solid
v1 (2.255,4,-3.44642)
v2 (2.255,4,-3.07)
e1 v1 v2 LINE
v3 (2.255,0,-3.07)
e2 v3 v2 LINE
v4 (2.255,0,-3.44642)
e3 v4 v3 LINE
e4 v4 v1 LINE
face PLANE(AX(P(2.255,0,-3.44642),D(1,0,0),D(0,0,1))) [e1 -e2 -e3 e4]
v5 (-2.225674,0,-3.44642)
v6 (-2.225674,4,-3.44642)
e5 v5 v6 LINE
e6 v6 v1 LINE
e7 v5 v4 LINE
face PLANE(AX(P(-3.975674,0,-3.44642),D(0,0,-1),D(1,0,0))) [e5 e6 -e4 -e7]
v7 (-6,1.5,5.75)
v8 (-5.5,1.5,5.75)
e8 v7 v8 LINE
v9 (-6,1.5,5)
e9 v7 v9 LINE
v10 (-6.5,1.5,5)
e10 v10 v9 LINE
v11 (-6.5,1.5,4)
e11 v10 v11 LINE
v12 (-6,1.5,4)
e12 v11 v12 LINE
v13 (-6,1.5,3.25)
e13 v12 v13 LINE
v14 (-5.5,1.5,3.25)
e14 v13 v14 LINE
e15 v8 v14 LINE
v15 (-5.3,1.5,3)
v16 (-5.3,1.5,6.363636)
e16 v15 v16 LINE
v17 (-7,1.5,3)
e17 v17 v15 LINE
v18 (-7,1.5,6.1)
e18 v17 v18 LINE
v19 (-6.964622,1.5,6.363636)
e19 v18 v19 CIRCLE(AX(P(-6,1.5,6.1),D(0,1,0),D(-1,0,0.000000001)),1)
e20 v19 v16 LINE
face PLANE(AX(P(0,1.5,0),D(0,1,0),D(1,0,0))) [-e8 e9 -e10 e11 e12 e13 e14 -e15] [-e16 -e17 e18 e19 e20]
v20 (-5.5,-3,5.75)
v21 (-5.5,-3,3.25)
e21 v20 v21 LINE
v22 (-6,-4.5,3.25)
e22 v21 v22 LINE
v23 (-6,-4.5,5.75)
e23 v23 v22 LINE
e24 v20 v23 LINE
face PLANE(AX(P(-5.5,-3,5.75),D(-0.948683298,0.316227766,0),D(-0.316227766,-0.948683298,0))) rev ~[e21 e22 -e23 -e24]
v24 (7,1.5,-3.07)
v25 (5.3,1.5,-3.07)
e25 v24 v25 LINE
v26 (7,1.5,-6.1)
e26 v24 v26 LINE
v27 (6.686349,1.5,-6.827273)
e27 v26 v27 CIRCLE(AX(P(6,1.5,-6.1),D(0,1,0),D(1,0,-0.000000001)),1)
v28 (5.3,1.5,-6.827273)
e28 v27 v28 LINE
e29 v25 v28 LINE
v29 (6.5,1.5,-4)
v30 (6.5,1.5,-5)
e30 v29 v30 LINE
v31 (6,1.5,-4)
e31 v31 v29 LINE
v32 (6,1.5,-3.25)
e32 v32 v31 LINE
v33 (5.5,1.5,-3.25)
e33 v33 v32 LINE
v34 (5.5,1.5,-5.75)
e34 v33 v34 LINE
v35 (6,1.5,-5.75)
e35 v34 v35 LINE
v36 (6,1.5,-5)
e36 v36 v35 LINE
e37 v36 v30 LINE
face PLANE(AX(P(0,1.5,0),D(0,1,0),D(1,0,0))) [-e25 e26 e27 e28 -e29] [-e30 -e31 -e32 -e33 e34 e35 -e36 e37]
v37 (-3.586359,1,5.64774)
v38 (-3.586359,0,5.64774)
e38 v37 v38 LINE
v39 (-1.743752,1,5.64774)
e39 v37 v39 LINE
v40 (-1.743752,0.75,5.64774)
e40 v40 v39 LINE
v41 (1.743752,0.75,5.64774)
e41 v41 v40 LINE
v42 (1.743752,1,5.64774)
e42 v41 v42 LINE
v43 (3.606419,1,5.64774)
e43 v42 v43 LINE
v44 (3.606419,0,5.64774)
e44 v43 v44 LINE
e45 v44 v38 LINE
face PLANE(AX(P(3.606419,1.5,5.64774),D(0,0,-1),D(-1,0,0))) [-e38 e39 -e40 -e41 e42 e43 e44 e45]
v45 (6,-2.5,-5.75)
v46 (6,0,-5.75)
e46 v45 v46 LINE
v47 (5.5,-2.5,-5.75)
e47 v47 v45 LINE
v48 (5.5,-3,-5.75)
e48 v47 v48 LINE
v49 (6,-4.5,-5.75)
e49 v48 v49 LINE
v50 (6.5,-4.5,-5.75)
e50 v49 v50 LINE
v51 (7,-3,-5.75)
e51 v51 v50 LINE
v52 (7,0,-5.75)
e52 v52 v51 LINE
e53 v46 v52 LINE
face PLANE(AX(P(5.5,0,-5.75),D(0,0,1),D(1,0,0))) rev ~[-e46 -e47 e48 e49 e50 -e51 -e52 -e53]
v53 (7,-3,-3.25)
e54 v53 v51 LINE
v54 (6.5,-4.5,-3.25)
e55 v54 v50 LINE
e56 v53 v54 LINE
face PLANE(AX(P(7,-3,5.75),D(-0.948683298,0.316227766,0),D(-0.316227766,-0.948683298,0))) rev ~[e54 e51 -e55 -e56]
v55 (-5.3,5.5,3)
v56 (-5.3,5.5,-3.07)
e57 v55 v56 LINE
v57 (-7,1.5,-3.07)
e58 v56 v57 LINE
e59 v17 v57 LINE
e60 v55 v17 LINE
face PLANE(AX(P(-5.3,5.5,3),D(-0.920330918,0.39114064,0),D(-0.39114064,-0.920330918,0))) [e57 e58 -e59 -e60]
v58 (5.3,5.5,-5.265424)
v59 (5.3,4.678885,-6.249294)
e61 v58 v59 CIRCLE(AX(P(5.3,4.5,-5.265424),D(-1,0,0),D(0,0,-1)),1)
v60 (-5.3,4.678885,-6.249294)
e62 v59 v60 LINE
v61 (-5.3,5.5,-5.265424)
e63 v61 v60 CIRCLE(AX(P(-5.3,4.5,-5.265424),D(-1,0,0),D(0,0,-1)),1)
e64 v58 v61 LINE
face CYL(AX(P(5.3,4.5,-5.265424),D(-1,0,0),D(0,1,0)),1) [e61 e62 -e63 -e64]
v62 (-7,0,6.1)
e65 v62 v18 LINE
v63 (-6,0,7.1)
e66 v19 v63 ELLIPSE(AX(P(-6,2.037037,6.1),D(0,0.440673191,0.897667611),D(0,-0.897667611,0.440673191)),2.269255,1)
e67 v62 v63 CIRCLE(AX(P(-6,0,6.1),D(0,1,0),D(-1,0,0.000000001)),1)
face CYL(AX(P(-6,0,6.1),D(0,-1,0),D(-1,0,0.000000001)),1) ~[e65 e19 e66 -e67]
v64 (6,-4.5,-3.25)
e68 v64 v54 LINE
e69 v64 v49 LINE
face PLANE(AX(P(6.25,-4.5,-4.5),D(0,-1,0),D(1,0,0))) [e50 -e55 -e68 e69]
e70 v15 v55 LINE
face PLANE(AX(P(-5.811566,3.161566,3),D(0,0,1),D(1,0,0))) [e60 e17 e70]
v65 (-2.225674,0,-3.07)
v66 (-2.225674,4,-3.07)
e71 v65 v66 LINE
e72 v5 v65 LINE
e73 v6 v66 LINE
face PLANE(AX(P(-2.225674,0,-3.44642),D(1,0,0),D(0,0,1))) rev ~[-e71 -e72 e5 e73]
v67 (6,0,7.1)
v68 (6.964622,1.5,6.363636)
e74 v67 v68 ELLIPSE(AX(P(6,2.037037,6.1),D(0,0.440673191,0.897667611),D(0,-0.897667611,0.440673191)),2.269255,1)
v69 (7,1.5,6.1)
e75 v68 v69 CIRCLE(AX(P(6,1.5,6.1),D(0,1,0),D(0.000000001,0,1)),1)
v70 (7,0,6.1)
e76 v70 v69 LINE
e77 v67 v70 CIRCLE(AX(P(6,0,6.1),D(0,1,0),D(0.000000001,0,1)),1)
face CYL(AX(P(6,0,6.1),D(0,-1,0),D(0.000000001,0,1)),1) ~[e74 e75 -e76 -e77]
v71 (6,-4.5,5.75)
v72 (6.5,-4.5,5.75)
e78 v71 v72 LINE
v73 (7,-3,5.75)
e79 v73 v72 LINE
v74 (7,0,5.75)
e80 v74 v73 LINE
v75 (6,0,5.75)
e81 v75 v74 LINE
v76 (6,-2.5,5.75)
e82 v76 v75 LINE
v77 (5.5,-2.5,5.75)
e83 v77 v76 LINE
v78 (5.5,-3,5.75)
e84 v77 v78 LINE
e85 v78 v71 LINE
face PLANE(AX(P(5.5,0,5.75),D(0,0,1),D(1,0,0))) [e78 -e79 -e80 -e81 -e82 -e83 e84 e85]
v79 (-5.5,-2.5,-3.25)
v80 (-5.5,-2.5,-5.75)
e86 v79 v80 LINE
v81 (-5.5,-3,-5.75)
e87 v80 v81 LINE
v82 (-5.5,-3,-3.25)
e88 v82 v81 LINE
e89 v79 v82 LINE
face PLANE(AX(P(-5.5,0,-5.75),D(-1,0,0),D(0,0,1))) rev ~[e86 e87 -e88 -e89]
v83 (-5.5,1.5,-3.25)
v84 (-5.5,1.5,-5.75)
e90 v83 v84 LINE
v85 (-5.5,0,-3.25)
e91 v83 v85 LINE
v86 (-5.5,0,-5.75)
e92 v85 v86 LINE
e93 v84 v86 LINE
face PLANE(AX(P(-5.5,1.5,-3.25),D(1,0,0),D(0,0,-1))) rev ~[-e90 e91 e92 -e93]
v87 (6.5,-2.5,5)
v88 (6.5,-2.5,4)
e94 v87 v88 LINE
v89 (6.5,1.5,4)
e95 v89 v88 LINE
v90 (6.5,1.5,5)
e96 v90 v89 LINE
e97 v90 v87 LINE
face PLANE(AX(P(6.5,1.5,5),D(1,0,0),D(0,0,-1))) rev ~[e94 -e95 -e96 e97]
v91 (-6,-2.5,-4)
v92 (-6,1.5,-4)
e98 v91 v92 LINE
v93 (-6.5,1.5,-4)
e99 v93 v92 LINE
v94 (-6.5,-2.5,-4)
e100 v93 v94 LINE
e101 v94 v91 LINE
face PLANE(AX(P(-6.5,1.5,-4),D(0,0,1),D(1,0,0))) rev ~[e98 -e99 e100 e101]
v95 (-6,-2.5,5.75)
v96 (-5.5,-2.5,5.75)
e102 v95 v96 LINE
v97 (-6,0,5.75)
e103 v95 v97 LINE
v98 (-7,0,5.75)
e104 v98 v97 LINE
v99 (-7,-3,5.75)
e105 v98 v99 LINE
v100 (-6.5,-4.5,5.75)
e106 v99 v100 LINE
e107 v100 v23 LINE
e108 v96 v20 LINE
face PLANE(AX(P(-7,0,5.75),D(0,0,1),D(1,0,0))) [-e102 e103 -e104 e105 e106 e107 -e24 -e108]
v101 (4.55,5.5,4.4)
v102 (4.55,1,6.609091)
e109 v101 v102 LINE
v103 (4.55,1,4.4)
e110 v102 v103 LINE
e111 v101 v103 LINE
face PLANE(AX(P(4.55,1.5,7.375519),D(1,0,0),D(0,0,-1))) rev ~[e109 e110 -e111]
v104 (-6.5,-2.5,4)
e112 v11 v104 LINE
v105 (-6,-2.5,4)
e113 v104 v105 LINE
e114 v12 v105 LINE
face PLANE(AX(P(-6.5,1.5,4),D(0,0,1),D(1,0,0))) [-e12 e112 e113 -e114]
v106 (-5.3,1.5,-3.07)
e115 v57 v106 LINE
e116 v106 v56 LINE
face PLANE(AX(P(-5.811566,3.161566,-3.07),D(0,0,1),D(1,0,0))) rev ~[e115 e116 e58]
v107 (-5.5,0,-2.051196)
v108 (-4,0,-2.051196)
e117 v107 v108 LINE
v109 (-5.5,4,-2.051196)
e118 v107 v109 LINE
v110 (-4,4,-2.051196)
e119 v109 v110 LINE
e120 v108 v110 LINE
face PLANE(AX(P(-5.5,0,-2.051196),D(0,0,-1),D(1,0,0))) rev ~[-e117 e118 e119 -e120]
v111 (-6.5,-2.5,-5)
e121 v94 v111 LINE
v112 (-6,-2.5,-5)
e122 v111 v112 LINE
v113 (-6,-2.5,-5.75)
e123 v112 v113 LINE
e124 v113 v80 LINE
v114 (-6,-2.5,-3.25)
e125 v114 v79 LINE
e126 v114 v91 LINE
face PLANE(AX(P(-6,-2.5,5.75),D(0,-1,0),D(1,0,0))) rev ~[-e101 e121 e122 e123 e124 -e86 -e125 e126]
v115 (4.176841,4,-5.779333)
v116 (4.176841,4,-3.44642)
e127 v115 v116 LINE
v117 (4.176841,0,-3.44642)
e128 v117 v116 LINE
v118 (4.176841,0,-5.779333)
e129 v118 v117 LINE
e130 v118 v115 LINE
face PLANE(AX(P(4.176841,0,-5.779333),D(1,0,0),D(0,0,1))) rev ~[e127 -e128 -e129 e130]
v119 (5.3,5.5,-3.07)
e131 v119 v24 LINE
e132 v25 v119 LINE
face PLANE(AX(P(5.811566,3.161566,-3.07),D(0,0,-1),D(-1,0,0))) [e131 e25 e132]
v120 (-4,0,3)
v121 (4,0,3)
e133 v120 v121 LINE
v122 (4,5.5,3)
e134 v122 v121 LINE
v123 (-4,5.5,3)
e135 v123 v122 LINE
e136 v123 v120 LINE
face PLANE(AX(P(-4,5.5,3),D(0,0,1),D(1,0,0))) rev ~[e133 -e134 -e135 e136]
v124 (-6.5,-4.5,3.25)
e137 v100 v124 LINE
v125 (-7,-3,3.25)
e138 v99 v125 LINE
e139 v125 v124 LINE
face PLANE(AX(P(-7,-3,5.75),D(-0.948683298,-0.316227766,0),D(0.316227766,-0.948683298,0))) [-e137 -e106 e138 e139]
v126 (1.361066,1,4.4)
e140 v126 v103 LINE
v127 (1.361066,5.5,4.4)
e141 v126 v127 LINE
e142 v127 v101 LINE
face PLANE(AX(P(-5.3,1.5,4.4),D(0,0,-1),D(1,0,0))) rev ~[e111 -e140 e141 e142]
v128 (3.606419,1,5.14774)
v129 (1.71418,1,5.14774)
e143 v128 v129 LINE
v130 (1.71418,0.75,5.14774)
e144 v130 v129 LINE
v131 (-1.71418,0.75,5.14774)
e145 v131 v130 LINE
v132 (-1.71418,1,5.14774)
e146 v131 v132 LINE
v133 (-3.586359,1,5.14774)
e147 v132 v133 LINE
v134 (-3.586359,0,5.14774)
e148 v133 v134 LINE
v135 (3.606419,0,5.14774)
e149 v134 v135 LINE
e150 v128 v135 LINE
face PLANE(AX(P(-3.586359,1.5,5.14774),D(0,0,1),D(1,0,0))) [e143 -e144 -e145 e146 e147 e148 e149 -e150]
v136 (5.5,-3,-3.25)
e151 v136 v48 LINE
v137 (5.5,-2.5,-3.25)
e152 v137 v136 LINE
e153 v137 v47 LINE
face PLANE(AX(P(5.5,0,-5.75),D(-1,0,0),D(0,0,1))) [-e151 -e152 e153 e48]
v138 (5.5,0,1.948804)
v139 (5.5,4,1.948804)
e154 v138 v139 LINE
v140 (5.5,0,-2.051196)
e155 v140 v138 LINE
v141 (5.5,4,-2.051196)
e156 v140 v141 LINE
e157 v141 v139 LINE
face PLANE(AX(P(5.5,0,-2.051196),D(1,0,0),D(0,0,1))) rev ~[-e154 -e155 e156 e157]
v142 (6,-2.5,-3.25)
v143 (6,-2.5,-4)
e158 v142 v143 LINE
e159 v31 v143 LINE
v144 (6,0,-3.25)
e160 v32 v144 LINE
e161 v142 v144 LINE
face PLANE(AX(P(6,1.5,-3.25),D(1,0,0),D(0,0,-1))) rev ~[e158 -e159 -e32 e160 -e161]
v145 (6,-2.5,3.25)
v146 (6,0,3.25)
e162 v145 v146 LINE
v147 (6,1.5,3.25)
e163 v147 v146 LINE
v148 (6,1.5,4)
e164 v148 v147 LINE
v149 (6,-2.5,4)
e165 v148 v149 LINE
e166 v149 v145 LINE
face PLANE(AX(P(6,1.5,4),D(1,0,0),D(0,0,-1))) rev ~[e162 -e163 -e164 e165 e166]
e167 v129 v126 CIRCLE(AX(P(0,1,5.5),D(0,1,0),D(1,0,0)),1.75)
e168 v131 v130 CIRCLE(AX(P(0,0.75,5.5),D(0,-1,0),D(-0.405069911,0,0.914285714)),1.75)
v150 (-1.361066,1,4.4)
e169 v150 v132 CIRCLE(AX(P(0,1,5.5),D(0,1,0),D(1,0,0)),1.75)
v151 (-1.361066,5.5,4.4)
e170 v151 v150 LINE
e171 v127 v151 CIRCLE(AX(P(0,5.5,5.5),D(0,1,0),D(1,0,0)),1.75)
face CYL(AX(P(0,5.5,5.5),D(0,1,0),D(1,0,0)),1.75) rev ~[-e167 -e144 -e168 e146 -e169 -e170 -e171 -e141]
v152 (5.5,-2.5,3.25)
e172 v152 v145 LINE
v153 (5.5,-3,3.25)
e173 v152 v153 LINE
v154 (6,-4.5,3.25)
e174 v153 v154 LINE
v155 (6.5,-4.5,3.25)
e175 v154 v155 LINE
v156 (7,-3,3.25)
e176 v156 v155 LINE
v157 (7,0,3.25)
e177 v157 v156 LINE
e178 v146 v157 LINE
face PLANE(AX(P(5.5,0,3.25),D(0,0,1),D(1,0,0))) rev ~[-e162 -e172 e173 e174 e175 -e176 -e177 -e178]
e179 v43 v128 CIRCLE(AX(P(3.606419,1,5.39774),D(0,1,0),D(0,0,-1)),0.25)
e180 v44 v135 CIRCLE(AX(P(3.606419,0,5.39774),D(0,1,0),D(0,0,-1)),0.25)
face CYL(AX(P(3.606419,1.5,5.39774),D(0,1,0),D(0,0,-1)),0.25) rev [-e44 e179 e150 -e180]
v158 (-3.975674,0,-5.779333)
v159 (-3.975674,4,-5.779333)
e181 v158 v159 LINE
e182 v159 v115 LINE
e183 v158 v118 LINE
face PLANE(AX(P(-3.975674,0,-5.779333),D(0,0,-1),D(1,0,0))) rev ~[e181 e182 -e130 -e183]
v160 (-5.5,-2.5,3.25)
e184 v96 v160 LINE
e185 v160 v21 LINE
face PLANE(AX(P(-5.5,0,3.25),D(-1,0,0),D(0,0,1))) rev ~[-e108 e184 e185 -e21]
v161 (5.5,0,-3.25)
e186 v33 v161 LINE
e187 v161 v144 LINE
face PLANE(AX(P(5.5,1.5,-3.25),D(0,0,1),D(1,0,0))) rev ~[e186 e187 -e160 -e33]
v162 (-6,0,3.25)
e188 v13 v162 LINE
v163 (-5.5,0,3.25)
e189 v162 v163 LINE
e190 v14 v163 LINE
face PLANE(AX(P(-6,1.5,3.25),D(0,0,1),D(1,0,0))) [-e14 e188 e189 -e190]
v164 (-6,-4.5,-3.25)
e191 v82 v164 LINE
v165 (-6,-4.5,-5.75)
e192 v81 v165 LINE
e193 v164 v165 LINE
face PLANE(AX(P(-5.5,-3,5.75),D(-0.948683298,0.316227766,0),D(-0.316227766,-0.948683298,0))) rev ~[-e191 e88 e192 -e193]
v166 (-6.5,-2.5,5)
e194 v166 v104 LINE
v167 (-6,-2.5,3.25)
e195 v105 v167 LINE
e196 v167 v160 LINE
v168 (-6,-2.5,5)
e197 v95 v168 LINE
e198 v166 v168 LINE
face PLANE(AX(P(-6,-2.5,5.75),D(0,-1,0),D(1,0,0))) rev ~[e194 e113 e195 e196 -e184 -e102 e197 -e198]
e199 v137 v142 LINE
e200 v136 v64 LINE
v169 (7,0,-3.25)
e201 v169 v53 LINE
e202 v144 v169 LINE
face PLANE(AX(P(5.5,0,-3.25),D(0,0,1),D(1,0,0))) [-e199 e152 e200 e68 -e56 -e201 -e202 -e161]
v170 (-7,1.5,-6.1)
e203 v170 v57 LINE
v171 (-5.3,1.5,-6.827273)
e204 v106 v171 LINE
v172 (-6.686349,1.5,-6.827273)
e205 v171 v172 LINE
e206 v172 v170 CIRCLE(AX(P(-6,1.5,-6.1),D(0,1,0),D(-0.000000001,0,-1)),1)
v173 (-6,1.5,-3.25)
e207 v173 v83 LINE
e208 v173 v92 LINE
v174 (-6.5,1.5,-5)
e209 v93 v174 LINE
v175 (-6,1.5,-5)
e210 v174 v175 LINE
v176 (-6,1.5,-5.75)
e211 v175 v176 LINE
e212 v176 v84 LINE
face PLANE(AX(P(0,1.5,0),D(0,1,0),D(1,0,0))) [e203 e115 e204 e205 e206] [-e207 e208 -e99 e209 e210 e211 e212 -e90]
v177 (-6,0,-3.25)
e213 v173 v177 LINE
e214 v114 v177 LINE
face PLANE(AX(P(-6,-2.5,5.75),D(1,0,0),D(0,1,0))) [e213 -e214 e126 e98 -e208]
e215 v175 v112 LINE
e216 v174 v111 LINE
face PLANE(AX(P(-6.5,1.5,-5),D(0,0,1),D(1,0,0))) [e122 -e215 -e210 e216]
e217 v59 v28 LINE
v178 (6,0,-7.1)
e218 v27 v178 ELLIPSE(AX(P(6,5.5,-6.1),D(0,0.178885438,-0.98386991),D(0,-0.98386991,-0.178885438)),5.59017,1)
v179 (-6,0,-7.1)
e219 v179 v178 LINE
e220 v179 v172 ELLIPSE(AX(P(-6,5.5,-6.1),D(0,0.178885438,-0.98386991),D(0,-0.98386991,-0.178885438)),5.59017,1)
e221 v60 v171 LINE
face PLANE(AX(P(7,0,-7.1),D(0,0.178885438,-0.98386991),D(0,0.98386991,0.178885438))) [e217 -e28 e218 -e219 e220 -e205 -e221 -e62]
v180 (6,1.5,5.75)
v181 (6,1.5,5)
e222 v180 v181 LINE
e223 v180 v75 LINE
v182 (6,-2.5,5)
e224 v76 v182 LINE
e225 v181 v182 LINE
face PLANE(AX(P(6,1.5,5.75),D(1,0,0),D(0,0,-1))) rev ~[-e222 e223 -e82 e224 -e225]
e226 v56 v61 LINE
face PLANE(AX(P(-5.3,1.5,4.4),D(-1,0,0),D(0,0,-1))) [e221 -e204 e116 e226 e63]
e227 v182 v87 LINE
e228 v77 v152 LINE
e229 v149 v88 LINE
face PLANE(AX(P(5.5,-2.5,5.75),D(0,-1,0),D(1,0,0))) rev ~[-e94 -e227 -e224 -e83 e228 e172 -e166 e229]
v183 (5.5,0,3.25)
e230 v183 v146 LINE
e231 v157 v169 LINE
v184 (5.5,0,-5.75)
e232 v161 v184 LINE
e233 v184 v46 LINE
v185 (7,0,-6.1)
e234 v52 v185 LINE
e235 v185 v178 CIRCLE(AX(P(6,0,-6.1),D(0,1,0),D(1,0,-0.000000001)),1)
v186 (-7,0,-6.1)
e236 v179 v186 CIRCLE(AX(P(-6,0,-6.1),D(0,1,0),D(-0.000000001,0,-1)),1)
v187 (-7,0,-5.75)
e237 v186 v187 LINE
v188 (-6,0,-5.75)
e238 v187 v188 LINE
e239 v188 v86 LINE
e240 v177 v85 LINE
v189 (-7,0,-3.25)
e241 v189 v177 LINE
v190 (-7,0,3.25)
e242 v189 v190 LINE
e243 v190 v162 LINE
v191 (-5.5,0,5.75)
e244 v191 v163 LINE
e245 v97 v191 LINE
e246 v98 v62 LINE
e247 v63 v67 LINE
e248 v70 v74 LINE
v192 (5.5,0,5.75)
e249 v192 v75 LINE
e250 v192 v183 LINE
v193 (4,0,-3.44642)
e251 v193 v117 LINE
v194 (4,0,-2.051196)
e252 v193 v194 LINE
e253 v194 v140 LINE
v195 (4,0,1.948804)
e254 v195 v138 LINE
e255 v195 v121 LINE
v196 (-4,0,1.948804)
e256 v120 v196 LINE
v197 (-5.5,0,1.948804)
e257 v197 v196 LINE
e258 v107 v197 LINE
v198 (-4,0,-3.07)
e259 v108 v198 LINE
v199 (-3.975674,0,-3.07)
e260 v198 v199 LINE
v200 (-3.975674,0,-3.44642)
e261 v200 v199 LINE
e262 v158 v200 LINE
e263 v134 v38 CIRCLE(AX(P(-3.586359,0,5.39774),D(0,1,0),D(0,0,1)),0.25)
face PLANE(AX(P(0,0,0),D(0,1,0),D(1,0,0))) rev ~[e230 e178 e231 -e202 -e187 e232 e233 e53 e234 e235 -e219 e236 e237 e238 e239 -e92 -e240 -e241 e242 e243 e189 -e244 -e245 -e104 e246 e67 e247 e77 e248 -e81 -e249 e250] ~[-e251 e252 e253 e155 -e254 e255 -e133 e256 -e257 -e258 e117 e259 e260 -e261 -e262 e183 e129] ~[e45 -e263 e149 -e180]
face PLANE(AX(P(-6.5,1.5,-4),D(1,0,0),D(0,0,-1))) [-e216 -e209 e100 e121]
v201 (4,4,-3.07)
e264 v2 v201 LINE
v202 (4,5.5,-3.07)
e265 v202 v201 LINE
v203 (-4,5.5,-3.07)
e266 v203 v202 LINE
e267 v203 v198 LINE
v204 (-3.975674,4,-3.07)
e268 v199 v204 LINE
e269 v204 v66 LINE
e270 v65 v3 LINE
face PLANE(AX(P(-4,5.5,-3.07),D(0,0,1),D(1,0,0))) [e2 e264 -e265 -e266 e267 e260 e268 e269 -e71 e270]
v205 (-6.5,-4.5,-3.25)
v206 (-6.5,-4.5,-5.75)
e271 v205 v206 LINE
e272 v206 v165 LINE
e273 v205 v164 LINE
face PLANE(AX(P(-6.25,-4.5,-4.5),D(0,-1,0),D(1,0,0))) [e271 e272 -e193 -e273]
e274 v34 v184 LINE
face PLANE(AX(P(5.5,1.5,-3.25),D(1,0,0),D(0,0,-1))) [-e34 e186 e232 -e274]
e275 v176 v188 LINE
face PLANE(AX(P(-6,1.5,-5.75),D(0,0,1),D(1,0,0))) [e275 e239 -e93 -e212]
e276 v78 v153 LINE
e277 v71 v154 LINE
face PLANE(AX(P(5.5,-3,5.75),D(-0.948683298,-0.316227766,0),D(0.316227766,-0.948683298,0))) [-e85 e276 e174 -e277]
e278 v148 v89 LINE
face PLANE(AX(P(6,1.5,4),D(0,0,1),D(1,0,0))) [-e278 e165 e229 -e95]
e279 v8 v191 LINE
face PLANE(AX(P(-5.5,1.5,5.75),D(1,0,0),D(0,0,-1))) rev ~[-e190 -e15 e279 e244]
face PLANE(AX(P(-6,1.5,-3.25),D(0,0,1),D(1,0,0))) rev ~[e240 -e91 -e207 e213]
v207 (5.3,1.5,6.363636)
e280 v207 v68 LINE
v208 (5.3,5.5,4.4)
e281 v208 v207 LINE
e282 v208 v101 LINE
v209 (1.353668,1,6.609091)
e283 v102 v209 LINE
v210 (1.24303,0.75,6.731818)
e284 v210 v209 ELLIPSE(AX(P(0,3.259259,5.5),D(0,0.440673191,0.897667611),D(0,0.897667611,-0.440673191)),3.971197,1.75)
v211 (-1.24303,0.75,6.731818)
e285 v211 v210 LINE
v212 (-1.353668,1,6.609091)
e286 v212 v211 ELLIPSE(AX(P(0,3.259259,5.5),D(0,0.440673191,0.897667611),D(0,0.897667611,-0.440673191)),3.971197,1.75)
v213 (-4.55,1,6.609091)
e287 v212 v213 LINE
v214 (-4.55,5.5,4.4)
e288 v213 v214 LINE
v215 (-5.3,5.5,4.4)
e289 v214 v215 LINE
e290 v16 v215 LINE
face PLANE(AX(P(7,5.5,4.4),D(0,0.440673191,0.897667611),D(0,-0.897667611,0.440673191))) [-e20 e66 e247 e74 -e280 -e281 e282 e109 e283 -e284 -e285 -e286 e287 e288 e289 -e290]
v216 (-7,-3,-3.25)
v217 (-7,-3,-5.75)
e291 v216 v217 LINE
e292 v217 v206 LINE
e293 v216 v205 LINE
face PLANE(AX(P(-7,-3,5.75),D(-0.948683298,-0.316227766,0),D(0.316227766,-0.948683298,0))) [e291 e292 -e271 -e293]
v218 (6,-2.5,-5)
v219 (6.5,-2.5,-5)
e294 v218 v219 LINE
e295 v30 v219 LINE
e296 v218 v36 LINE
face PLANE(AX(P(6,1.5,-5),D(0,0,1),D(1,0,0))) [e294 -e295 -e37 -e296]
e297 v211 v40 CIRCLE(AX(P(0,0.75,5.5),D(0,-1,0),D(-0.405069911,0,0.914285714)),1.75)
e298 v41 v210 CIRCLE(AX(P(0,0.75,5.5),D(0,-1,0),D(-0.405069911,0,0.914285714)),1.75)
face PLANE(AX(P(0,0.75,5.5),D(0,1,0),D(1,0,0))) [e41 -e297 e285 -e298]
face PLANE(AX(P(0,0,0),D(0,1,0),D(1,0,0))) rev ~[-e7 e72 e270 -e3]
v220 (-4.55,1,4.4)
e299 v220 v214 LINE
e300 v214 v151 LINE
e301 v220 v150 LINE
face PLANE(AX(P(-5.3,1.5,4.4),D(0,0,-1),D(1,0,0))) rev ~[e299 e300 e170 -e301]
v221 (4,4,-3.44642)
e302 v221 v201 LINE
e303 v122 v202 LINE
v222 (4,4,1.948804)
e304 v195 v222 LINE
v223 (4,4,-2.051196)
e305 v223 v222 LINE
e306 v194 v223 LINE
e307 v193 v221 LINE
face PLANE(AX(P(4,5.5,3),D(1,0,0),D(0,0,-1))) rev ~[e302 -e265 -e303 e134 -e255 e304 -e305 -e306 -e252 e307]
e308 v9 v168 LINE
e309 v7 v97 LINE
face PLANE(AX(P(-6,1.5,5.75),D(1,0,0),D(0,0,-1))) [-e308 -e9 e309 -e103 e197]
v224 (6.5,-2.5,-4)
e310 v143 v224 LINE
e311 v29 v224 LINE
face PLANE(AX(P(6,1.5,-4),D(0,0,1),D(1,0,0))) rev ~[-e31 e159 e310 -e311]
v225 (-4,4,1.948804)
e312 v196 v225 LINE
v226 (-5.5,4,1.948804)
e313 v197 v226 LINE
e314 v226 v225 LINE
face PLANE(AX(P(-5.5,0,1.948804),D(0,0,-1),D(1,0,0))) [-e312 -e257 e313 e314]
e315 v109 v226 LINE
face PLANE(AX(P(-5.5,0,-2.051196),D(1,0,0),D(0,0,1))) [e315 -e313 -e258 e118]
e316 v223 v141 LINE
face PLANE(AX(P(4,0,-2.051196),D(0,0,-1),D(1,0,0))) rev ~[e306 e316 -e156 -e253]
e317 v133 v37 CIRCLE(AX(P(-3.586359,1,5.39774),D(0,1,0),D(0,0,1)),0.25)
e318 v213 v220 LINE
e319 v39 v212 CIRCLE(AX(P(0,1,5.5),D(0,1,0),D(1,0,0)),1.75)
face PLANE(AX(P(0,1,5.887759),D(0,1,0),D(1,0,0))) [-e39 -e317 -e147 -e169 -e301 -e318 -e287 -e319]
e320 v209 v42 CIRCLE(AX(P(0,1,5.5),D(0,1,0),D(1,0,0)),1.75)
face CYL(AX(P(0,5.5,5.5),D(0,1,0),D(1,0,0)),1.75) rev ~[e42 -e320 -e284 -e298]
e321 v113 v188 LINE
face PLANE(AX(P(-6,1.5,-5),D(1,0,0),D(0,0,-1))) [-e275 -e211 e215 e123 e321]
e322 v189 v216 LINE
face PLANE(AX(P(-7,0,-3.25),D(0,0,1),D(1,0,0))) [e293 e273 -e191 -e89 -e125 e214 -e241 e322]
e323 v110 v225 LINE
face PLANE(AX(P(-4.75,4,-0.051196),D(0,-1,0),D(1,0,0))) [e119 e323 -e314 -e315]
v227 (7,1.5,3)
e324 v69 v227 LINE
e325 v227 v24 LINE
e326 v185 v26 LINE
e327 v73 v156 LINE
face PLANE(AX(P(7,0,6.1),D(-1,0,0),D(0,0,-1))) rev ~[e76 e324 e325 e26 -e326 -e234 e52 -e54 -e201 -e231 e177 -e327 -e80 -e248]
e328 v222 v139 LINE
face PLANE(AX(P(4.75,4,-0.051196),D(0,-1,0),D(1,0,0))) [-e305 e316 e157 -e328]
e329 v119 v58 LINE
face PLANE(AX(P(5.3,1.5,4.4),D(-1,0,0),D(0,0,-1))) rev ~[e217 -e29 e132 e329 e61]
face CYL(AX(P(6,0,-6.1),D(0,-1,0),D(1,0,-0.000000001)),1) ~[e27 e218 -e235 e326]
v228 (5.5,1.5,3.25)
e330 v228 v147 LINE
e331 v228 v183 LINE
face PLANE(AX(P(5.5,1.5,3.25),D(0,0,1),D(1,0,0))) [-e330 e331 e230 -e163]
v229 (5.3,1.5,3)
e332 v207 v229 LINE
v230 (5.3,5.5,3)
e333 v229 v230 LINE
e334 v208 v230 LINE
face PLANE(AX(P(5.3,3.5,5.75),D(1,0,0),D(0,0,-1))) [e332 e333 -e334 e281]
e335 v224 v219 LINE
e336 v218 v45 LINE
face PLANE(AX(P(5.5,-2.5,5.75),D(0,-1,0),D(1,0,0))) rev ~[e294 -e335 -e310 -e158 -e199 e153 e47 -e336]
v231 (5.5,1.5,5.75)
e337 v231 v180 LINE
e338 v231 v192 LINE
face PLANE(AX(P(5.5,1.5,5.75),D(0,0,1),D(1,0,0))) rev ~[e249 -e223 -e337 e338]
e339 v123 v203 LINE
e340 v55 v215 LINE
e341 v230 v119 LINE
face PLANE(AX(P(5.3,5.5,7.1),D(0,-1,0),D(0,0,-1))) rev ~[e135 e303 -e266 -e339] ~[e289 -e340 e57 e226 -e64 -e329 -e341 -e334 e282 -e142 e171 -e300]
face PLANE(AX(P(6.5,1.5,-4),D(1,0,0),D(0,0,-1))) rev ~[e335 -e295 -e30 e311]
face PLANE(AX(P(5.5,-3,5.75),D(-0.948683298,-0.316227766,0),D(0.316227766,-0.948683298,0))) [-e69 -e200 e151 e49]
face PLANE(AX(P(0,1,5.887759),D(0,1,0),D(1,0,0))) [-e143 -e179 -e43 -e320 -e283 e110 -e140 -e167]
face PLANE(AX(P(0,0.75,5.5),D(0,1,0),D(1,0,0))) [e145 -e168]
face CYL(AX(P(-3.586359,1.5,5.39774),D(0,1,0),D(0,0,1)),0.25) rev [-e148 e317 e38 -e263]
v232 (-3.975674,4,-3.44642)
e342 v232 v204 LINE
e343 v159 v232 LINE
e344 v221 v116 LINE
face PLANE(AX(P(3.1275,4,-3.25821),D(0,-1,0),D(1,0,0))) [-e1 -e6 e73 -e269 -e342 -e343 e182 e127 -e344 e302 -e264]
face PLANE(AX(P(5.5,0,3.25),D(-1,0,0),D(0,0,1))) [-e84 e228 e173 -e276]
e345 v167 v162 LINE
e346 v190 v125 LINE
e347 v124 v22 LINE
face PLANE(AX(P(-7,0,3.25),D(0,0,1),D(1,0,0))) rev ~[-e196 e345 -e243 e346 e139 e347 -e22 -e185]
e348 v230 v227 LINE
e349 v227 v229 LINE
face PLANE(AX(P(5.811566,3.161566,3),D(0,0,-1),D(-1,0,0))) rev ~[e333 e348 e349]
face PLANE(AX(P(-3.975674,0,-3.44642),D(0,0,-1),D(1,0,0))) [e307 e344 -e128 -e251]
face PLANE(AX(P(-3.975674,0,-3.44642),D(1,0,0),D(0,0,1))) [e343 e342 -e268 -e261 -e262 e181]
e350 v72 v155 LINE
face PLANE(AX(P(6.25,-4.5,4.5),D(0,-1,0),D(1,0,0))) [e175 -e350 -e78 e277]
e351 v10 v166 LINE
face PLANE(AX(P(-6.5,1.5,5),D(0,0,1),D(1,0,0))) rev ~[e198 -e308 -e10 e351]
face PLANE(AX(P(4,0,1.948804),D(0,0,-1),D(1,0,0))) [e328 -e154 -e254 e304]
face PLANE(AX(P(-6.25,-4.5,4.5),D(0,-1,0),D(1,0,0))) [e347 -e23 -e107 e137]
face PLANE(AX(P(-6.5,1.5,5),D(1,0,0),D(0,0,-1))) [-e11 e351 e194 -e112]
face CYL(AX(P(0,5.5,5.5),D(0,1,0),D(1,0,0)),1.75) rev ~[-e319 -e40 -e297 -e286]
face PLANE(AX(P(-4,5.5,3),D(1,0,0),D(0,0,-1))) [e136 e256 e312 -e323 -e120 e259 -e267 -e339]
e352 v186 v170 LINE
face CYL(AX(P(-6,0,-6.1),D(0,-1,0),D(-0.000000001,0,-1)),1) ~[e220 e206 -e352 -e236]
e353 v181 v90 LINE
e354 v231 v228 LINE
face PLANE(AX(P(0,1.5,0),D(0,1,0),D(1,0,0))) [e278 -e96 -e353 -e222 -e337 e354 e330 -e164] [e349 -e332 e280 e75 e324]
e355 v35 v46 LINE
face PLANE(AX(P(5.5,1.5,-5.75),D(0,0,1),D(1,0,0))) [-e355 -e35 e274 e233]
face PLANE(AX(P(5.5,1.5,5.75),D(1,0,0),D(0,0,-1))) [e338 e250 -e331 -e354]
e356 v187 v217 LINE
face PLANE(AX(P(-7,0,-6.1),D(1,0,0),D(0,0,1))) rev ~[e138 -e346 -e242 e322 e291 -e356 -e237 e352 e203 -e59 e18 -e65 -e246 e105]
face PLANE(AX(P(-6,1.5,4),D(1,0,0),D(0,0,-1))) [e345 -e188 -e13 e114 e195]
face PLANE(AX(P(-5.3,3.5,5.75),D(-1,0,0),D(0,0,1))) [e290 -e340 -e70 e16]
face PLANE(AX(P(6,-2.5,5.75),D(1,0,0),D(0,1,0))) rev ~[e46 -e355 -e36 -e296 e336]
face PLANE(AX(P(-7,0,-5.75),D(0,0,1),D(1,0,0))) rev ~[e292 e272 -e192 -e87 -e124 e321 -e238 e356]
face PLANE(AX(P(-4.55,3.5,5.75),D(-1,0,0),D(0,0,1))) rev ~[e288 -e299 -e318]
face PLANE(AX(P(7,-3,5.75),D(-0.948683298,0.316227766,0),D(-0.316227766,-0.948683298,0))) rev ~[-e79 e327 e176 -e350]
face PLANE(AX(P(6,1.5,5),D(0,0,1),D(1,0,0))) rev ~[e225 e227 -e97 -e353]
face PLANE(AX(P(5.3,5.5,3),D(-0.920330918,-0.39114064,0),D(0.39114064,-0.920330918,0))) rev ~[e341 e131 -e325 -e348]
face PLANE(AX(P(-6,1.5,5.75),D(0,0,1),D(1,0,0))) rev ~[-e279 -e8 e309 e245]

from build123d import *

# Parameters (mm, degrees)
BOSS_EXTRUDE1_DEPTH = 1.5
SKETCH2_W           = 10.6
SKETCH2_H           = 11.5
BOSS_EXTRUDE2_DEPTH = 4
BOSS_EXTRUDE4_DEPTH = 6.07
SKETCH5_W           = 1.5
SKETCH5_H           = 2.5
BOSS_EXTRUDE5_DEPTH = 4.5
SKETCH6_W           = 0.5
SKETCH6_H           = 2.5
CUT_EXTRUDE1_DEPTH  = 16.632418239
CUT_EXTRUDE3_DEPTH  = 4
SKETCH8_W           = 8
SKETCH8_H           = 6.07
CUT_EXTRUDE4_DEPTH  = 15.121260567
SKETCH10_R          = 1.75
CUT_EXTRUDE5_DEPTH  = 4.75
SKETCH12_W          = 2.7
SKETCH12_H          = 4
BOSS_EXTRUDE6_DEPTH = 0.75
SKETCH13_W          = 2.7
SKETCH13_H          = 4
BOSS_EXTRUDE7_DEPTH = 0.75
CUT_EXTRUDE6_DEPTH  = 17.633099531
CUT_EXTRUDE7_DEPTH  = 12.636580254
SKETCH17_W          = 9.1
SKETCH17_H          = 2.975518652
CUT_EXTRUDE8_DEPTH  = 0.5
FILLET2_R           = 1
SKETCH18_W          = 8.152515879
SKETCH18_H          = 2.332912786
CUT_EXTRUDE9_DEPTH  = 4
SKETCH19_W          = 1.745
SKETCH19_H          = 0.376419973
SKETCH19_W_2        = 1.75
CUT_EXTRUDE10_DEPTH = 4
SKETCH20_W          = 1.5
SKETCH20_H          = 4
CUT_EXTRUDE11_DEPTH = 4


with BuildPart() as part:
    # Sketch1 → Boss-Extrude1 (new body)
    with BuildSketch(Plane(origin=(0, 0, 0), x_dir=(1, 0, 0), z_dir=(0, 1, 0))):
        with BuildLine():
            Line((-6, -7.1), (6, -7.1))
            ThreePointArc((6, -7.1), (6.707106781, -6.807106781), (7, -6.1))
            Line((7, -6.1), (7, 6.1))
            ThreePointArc((7, 6.1), (6.707106781, 6.807106781), (6, 7.1))
            Line((6, 7.1), (-6, 7.1))
            ThreePointArc((-6, 7.1), (-6.707106781, 6.807106781), (-7, 6.1))
            Line((-7, 6.1), (-7, -6.1))
            ThreePointArc((-7, -6.1), (-6.707106781, -6.807106781), (-6, -7.1))
        make_face()
    extrude(amount=BOSS_EXTRUDE1_DEPTH)

    # Sketch2 → Boss-Extrude2 (add)
    with BuildSketch(Plane(origin=(0, 1.5, 0), x_dir=(1, 0, 0), z_dir=(0, 1, 0))):
        with Locations((0, 1.35)):
            Rectangle(SKETCH2_W, SKETCH2_H)
    extrude(amount=BOSS_EXTRUDE2_DEPTH)

    # Sketch4 → Boss-Extrude4 (add)
    with BuildSketch(Plane.XY.offset(3)):
        Polygon((-5.3, 5.5), (-7, 1.5), (-5.3, 1.5), align=None)
        Polygon((5.3, 5.5), (7, 1.5), (5.3, 1.5), align=None)
    extrude(amount=-BOSS_EXTRUDE4_DEPTH)

    # Sketch5 → Boss-Extrude5 (add)
    with BuildSketch(Plane.XZ):
        with Locations((-6.25, -4.5)):
            Rectangle(SKETCH5_W, SKETCH5_H)
        with Locations((-6.25, 4.5)):
            Rectangle(SKETCH5_W, SKETCH5_H)
        with Locations((6.25, 4.5)):
            Rectangle(SKETCH5_W, SKETCH5_H)
        with Locations((6.25, -4.5)):
            Rectangle(SKETCH5_W, SKETCH5_H)
    extrude(amount=BOSS_EXTRUDE5_DEPTH)

    # Sketch6 → Cut-Extrude1 (cut, through all)
    with BuildSketch(Plane.XY.offset(5.75)):
        with Locations((-5.75, -1.25)):
            Rectangle(SKETCH6_W, SKETCH6_H)
        Polygon((-5.5, -4.5), (-5.5, -3), (-6, -4.5), align=None)
        Polygon((-7, -3), (-7, -4.5), (-6.5, -4.5), align=None)
        Polygon((6.5, -4.5), (7, -4.5), (7, -3), align=None)
        Polygon((5.5, -3), (5.5, -4.5), (6, -4.5), align=None)
        with Locations((5.75, -1.25)):
            Rectangle(SKETCH6_W, SKETCH6_H)
    extrude(amount=-CUT_EXTRUDE1_DEPTH, mode=Mode.SUBTRACT)

    # Sketch7 → Cut-Extrude3 (cut)
    with BuildSketch(Plane(origin=(0, 1.5, 0), x_dir=(1, 0, 0), z_dir=(0, 1, 0))):
        Polygon((-5.5, -3.25), (-6, -3.25), (-6, -4), (-6.5, -4), (-6.5, -5), (-6, -5), (-6, -5.75), (-5.5, -5.75), align=None)
        Polygon((-6, 4), (-6, 3.25), (-5.5, 3.25), (-5.5, 5.75), (-6, 5.75), (-6, 5), (-6.5, 5), (-6.5, 4), align=None)
        Polygon((5.5, 3.25), (6, 3.25), (6, 4), (6.5, 4), (6.5, 5), (6, 5), (6, 5.75), (5.5, 5.75), align=None)
        Polygon((6, -4), (6, -3.25), (5.5, -3.25), (5.5, -5.75), (6, -5.75), (6, -5), (6.5, -5), (6.5, -4), align=None)
    extrude(amount=-CUT_EXTRUDE3_DEPTH, mode=Mode.SUBTRACT)

    # Sketch8 → Cut-Extrude4 (cut, through all)
    with BuildSketch(Plane(origin=(0, 5.5, 0), x_dir=(1, 0, 0), z_dir=(0, 1, 0))):
        with Locations((0, 0.035)):
            Rectangle(SKETCH8_W, SKETCH8_H)
    extrude(amount=-CUT_EXTRUDE4_DEPTH, mode=Mode.SUBTRACT)

    # Sketch10 → Cut-Extrude5 (cut)
    with BuildSketch(Plane(origin=(0, 5.5, 0), x_dir=(1, 0, 0), z_dir=(0, 1, 0))):
        with Locations((0, -5.5)):
            Circle(SKETCH10_R)
    extrude(amount=-CUT_EXTRUDE5_DEPTH, mode=Mode.SUBTRACT)

    # Sketch12 → Boss-Extrude6 (add)
    with BuildSketch(Plane.ZY.offset(5.3)):
        with Locations((5.75, 3.5)):
            Rectangle(SKETCH12_W, SKETCH12_H)
    extrude(amount=-BOSS_EXTRUDE6_DEPTH)

    # Sketch13 → Boss-Extrude7 (add)
    with BuildSketch(Plane(origin=(5.3, 0, 0), x_dir=(0, 0, -1), z_dir=(1, 0, 0))):
        with Locations((-5.75, 3.5)):
            Rectangle(SKETCH13_W, SKETCH13_H)
    extrude(amount=-BOSS_EXTRUDE7_DEPTH)

    # Sketch15 → Cut-Extrude6 (cut, through all)
    with BuildSketch(Plane(origin=(7, 0, 0), x_dir=(0, 0, -1), z_dir=(1, 0, 0))):
        Polygon((-4.4, 5.5), (-7.1, 0), (-7.1, 5.5), align=None)
        Polygon((7.1, 0), (6.1, 5.5), (7.1, 5.5), align=None)
    extrude(amount=-CUT_EXTRUDE6_DEPTH, mode=Mode.SUBTRACT)

    # Sketch16 → Cut-Extrude7 (cut, through all)
    with BuildSketch(Plane(origin=(0, 1.5, 0), x_dir=(1, 0, 0), z_dir=(0, 1, 0))):
        with BuildLine():
            Line((-3.586359169, -5.147740482), (3.606419083, -5.147740482))
            ThreePointArc((3.606419083, -5.147740482), (3.856419083, -5.397740482), (3.606419083, -5.647740482))
            Line((3.606419083, -5.647740482), (-3.586359169, -5.647740482))
            ThreePointArc((-3.586359169, -5.647740482), (-3.836359169, -5.397740482), (-3.586359169, -5.147740482))
        make_face()
    extrude(amount=-CUT_EXTRUDE7_DEPTH, mode=Mode.SUBTRACT)

    # Sketch17 → Cut-Extrude8 (cut)
    with BuildSketch(Plane(origin=(0, 1.5, 0), x_dir=(1, 0, 0), z_dir=(0, 1, 0))):
        with Locations((0, -5.887759326)):
            Rectangle(SKETCH17_W, SKETCH17_H)
    extrude(amount=-CUT_EXTRUDE8_DEPTH, mode=Mode.SUBTRACT)

    # Fillet2
    fillet2_edges = [part.edges().sort_by_distance(p)[0] for p in [
        (0, 5.5, -6.1),
    ]]
    fillet(fillet2_edges, radius=FILLET2_R)

    # Sketch18 → Cut-Extrude9 (cut)
    with BuildSketch(Plane.XZ):
        with Locations((0.100583502, -4.612876366)):
            Rectangle(SKETCH18_W, SKETCH18_H)
    extrude(amount=-CUT_EXTRUDE9_DEPTH, mode=Mode.SUBTRACT)

    # Sketch19 → Cut-Extrude10 (cut)
    with BuildSketch(Plane.XZ):
        with Locations((3.1275, -3.258209987)):
            Rectangle(SKETCH19_W, SKETCH19_H)
        with Locations((-3.100674438, -3.258209987)):
            Rectangle(SKETCH19_W_2, SKETCH19_H)
    extrude(amount=-CUT_EXTRUDE10_DEPTH, mode=Mode.SUBTRACT)

    # Sketch20 → Cut-Extrude11 (cut)
    with BuildSketch(Plane.XZ):
        with Locations((4.75, -0.051196063)):
            Rectangle(SKETCH20_W, SKETCH20_H)
        with Locations((-4.75, -0.051196063)):
            Rectangle(SKETCH20_W, SKETCH20_H)
    extrude(amount=-CUT_EXTRUDE11_DEPTH, mode=Mode.SUBTRACT)


solid = part.part
